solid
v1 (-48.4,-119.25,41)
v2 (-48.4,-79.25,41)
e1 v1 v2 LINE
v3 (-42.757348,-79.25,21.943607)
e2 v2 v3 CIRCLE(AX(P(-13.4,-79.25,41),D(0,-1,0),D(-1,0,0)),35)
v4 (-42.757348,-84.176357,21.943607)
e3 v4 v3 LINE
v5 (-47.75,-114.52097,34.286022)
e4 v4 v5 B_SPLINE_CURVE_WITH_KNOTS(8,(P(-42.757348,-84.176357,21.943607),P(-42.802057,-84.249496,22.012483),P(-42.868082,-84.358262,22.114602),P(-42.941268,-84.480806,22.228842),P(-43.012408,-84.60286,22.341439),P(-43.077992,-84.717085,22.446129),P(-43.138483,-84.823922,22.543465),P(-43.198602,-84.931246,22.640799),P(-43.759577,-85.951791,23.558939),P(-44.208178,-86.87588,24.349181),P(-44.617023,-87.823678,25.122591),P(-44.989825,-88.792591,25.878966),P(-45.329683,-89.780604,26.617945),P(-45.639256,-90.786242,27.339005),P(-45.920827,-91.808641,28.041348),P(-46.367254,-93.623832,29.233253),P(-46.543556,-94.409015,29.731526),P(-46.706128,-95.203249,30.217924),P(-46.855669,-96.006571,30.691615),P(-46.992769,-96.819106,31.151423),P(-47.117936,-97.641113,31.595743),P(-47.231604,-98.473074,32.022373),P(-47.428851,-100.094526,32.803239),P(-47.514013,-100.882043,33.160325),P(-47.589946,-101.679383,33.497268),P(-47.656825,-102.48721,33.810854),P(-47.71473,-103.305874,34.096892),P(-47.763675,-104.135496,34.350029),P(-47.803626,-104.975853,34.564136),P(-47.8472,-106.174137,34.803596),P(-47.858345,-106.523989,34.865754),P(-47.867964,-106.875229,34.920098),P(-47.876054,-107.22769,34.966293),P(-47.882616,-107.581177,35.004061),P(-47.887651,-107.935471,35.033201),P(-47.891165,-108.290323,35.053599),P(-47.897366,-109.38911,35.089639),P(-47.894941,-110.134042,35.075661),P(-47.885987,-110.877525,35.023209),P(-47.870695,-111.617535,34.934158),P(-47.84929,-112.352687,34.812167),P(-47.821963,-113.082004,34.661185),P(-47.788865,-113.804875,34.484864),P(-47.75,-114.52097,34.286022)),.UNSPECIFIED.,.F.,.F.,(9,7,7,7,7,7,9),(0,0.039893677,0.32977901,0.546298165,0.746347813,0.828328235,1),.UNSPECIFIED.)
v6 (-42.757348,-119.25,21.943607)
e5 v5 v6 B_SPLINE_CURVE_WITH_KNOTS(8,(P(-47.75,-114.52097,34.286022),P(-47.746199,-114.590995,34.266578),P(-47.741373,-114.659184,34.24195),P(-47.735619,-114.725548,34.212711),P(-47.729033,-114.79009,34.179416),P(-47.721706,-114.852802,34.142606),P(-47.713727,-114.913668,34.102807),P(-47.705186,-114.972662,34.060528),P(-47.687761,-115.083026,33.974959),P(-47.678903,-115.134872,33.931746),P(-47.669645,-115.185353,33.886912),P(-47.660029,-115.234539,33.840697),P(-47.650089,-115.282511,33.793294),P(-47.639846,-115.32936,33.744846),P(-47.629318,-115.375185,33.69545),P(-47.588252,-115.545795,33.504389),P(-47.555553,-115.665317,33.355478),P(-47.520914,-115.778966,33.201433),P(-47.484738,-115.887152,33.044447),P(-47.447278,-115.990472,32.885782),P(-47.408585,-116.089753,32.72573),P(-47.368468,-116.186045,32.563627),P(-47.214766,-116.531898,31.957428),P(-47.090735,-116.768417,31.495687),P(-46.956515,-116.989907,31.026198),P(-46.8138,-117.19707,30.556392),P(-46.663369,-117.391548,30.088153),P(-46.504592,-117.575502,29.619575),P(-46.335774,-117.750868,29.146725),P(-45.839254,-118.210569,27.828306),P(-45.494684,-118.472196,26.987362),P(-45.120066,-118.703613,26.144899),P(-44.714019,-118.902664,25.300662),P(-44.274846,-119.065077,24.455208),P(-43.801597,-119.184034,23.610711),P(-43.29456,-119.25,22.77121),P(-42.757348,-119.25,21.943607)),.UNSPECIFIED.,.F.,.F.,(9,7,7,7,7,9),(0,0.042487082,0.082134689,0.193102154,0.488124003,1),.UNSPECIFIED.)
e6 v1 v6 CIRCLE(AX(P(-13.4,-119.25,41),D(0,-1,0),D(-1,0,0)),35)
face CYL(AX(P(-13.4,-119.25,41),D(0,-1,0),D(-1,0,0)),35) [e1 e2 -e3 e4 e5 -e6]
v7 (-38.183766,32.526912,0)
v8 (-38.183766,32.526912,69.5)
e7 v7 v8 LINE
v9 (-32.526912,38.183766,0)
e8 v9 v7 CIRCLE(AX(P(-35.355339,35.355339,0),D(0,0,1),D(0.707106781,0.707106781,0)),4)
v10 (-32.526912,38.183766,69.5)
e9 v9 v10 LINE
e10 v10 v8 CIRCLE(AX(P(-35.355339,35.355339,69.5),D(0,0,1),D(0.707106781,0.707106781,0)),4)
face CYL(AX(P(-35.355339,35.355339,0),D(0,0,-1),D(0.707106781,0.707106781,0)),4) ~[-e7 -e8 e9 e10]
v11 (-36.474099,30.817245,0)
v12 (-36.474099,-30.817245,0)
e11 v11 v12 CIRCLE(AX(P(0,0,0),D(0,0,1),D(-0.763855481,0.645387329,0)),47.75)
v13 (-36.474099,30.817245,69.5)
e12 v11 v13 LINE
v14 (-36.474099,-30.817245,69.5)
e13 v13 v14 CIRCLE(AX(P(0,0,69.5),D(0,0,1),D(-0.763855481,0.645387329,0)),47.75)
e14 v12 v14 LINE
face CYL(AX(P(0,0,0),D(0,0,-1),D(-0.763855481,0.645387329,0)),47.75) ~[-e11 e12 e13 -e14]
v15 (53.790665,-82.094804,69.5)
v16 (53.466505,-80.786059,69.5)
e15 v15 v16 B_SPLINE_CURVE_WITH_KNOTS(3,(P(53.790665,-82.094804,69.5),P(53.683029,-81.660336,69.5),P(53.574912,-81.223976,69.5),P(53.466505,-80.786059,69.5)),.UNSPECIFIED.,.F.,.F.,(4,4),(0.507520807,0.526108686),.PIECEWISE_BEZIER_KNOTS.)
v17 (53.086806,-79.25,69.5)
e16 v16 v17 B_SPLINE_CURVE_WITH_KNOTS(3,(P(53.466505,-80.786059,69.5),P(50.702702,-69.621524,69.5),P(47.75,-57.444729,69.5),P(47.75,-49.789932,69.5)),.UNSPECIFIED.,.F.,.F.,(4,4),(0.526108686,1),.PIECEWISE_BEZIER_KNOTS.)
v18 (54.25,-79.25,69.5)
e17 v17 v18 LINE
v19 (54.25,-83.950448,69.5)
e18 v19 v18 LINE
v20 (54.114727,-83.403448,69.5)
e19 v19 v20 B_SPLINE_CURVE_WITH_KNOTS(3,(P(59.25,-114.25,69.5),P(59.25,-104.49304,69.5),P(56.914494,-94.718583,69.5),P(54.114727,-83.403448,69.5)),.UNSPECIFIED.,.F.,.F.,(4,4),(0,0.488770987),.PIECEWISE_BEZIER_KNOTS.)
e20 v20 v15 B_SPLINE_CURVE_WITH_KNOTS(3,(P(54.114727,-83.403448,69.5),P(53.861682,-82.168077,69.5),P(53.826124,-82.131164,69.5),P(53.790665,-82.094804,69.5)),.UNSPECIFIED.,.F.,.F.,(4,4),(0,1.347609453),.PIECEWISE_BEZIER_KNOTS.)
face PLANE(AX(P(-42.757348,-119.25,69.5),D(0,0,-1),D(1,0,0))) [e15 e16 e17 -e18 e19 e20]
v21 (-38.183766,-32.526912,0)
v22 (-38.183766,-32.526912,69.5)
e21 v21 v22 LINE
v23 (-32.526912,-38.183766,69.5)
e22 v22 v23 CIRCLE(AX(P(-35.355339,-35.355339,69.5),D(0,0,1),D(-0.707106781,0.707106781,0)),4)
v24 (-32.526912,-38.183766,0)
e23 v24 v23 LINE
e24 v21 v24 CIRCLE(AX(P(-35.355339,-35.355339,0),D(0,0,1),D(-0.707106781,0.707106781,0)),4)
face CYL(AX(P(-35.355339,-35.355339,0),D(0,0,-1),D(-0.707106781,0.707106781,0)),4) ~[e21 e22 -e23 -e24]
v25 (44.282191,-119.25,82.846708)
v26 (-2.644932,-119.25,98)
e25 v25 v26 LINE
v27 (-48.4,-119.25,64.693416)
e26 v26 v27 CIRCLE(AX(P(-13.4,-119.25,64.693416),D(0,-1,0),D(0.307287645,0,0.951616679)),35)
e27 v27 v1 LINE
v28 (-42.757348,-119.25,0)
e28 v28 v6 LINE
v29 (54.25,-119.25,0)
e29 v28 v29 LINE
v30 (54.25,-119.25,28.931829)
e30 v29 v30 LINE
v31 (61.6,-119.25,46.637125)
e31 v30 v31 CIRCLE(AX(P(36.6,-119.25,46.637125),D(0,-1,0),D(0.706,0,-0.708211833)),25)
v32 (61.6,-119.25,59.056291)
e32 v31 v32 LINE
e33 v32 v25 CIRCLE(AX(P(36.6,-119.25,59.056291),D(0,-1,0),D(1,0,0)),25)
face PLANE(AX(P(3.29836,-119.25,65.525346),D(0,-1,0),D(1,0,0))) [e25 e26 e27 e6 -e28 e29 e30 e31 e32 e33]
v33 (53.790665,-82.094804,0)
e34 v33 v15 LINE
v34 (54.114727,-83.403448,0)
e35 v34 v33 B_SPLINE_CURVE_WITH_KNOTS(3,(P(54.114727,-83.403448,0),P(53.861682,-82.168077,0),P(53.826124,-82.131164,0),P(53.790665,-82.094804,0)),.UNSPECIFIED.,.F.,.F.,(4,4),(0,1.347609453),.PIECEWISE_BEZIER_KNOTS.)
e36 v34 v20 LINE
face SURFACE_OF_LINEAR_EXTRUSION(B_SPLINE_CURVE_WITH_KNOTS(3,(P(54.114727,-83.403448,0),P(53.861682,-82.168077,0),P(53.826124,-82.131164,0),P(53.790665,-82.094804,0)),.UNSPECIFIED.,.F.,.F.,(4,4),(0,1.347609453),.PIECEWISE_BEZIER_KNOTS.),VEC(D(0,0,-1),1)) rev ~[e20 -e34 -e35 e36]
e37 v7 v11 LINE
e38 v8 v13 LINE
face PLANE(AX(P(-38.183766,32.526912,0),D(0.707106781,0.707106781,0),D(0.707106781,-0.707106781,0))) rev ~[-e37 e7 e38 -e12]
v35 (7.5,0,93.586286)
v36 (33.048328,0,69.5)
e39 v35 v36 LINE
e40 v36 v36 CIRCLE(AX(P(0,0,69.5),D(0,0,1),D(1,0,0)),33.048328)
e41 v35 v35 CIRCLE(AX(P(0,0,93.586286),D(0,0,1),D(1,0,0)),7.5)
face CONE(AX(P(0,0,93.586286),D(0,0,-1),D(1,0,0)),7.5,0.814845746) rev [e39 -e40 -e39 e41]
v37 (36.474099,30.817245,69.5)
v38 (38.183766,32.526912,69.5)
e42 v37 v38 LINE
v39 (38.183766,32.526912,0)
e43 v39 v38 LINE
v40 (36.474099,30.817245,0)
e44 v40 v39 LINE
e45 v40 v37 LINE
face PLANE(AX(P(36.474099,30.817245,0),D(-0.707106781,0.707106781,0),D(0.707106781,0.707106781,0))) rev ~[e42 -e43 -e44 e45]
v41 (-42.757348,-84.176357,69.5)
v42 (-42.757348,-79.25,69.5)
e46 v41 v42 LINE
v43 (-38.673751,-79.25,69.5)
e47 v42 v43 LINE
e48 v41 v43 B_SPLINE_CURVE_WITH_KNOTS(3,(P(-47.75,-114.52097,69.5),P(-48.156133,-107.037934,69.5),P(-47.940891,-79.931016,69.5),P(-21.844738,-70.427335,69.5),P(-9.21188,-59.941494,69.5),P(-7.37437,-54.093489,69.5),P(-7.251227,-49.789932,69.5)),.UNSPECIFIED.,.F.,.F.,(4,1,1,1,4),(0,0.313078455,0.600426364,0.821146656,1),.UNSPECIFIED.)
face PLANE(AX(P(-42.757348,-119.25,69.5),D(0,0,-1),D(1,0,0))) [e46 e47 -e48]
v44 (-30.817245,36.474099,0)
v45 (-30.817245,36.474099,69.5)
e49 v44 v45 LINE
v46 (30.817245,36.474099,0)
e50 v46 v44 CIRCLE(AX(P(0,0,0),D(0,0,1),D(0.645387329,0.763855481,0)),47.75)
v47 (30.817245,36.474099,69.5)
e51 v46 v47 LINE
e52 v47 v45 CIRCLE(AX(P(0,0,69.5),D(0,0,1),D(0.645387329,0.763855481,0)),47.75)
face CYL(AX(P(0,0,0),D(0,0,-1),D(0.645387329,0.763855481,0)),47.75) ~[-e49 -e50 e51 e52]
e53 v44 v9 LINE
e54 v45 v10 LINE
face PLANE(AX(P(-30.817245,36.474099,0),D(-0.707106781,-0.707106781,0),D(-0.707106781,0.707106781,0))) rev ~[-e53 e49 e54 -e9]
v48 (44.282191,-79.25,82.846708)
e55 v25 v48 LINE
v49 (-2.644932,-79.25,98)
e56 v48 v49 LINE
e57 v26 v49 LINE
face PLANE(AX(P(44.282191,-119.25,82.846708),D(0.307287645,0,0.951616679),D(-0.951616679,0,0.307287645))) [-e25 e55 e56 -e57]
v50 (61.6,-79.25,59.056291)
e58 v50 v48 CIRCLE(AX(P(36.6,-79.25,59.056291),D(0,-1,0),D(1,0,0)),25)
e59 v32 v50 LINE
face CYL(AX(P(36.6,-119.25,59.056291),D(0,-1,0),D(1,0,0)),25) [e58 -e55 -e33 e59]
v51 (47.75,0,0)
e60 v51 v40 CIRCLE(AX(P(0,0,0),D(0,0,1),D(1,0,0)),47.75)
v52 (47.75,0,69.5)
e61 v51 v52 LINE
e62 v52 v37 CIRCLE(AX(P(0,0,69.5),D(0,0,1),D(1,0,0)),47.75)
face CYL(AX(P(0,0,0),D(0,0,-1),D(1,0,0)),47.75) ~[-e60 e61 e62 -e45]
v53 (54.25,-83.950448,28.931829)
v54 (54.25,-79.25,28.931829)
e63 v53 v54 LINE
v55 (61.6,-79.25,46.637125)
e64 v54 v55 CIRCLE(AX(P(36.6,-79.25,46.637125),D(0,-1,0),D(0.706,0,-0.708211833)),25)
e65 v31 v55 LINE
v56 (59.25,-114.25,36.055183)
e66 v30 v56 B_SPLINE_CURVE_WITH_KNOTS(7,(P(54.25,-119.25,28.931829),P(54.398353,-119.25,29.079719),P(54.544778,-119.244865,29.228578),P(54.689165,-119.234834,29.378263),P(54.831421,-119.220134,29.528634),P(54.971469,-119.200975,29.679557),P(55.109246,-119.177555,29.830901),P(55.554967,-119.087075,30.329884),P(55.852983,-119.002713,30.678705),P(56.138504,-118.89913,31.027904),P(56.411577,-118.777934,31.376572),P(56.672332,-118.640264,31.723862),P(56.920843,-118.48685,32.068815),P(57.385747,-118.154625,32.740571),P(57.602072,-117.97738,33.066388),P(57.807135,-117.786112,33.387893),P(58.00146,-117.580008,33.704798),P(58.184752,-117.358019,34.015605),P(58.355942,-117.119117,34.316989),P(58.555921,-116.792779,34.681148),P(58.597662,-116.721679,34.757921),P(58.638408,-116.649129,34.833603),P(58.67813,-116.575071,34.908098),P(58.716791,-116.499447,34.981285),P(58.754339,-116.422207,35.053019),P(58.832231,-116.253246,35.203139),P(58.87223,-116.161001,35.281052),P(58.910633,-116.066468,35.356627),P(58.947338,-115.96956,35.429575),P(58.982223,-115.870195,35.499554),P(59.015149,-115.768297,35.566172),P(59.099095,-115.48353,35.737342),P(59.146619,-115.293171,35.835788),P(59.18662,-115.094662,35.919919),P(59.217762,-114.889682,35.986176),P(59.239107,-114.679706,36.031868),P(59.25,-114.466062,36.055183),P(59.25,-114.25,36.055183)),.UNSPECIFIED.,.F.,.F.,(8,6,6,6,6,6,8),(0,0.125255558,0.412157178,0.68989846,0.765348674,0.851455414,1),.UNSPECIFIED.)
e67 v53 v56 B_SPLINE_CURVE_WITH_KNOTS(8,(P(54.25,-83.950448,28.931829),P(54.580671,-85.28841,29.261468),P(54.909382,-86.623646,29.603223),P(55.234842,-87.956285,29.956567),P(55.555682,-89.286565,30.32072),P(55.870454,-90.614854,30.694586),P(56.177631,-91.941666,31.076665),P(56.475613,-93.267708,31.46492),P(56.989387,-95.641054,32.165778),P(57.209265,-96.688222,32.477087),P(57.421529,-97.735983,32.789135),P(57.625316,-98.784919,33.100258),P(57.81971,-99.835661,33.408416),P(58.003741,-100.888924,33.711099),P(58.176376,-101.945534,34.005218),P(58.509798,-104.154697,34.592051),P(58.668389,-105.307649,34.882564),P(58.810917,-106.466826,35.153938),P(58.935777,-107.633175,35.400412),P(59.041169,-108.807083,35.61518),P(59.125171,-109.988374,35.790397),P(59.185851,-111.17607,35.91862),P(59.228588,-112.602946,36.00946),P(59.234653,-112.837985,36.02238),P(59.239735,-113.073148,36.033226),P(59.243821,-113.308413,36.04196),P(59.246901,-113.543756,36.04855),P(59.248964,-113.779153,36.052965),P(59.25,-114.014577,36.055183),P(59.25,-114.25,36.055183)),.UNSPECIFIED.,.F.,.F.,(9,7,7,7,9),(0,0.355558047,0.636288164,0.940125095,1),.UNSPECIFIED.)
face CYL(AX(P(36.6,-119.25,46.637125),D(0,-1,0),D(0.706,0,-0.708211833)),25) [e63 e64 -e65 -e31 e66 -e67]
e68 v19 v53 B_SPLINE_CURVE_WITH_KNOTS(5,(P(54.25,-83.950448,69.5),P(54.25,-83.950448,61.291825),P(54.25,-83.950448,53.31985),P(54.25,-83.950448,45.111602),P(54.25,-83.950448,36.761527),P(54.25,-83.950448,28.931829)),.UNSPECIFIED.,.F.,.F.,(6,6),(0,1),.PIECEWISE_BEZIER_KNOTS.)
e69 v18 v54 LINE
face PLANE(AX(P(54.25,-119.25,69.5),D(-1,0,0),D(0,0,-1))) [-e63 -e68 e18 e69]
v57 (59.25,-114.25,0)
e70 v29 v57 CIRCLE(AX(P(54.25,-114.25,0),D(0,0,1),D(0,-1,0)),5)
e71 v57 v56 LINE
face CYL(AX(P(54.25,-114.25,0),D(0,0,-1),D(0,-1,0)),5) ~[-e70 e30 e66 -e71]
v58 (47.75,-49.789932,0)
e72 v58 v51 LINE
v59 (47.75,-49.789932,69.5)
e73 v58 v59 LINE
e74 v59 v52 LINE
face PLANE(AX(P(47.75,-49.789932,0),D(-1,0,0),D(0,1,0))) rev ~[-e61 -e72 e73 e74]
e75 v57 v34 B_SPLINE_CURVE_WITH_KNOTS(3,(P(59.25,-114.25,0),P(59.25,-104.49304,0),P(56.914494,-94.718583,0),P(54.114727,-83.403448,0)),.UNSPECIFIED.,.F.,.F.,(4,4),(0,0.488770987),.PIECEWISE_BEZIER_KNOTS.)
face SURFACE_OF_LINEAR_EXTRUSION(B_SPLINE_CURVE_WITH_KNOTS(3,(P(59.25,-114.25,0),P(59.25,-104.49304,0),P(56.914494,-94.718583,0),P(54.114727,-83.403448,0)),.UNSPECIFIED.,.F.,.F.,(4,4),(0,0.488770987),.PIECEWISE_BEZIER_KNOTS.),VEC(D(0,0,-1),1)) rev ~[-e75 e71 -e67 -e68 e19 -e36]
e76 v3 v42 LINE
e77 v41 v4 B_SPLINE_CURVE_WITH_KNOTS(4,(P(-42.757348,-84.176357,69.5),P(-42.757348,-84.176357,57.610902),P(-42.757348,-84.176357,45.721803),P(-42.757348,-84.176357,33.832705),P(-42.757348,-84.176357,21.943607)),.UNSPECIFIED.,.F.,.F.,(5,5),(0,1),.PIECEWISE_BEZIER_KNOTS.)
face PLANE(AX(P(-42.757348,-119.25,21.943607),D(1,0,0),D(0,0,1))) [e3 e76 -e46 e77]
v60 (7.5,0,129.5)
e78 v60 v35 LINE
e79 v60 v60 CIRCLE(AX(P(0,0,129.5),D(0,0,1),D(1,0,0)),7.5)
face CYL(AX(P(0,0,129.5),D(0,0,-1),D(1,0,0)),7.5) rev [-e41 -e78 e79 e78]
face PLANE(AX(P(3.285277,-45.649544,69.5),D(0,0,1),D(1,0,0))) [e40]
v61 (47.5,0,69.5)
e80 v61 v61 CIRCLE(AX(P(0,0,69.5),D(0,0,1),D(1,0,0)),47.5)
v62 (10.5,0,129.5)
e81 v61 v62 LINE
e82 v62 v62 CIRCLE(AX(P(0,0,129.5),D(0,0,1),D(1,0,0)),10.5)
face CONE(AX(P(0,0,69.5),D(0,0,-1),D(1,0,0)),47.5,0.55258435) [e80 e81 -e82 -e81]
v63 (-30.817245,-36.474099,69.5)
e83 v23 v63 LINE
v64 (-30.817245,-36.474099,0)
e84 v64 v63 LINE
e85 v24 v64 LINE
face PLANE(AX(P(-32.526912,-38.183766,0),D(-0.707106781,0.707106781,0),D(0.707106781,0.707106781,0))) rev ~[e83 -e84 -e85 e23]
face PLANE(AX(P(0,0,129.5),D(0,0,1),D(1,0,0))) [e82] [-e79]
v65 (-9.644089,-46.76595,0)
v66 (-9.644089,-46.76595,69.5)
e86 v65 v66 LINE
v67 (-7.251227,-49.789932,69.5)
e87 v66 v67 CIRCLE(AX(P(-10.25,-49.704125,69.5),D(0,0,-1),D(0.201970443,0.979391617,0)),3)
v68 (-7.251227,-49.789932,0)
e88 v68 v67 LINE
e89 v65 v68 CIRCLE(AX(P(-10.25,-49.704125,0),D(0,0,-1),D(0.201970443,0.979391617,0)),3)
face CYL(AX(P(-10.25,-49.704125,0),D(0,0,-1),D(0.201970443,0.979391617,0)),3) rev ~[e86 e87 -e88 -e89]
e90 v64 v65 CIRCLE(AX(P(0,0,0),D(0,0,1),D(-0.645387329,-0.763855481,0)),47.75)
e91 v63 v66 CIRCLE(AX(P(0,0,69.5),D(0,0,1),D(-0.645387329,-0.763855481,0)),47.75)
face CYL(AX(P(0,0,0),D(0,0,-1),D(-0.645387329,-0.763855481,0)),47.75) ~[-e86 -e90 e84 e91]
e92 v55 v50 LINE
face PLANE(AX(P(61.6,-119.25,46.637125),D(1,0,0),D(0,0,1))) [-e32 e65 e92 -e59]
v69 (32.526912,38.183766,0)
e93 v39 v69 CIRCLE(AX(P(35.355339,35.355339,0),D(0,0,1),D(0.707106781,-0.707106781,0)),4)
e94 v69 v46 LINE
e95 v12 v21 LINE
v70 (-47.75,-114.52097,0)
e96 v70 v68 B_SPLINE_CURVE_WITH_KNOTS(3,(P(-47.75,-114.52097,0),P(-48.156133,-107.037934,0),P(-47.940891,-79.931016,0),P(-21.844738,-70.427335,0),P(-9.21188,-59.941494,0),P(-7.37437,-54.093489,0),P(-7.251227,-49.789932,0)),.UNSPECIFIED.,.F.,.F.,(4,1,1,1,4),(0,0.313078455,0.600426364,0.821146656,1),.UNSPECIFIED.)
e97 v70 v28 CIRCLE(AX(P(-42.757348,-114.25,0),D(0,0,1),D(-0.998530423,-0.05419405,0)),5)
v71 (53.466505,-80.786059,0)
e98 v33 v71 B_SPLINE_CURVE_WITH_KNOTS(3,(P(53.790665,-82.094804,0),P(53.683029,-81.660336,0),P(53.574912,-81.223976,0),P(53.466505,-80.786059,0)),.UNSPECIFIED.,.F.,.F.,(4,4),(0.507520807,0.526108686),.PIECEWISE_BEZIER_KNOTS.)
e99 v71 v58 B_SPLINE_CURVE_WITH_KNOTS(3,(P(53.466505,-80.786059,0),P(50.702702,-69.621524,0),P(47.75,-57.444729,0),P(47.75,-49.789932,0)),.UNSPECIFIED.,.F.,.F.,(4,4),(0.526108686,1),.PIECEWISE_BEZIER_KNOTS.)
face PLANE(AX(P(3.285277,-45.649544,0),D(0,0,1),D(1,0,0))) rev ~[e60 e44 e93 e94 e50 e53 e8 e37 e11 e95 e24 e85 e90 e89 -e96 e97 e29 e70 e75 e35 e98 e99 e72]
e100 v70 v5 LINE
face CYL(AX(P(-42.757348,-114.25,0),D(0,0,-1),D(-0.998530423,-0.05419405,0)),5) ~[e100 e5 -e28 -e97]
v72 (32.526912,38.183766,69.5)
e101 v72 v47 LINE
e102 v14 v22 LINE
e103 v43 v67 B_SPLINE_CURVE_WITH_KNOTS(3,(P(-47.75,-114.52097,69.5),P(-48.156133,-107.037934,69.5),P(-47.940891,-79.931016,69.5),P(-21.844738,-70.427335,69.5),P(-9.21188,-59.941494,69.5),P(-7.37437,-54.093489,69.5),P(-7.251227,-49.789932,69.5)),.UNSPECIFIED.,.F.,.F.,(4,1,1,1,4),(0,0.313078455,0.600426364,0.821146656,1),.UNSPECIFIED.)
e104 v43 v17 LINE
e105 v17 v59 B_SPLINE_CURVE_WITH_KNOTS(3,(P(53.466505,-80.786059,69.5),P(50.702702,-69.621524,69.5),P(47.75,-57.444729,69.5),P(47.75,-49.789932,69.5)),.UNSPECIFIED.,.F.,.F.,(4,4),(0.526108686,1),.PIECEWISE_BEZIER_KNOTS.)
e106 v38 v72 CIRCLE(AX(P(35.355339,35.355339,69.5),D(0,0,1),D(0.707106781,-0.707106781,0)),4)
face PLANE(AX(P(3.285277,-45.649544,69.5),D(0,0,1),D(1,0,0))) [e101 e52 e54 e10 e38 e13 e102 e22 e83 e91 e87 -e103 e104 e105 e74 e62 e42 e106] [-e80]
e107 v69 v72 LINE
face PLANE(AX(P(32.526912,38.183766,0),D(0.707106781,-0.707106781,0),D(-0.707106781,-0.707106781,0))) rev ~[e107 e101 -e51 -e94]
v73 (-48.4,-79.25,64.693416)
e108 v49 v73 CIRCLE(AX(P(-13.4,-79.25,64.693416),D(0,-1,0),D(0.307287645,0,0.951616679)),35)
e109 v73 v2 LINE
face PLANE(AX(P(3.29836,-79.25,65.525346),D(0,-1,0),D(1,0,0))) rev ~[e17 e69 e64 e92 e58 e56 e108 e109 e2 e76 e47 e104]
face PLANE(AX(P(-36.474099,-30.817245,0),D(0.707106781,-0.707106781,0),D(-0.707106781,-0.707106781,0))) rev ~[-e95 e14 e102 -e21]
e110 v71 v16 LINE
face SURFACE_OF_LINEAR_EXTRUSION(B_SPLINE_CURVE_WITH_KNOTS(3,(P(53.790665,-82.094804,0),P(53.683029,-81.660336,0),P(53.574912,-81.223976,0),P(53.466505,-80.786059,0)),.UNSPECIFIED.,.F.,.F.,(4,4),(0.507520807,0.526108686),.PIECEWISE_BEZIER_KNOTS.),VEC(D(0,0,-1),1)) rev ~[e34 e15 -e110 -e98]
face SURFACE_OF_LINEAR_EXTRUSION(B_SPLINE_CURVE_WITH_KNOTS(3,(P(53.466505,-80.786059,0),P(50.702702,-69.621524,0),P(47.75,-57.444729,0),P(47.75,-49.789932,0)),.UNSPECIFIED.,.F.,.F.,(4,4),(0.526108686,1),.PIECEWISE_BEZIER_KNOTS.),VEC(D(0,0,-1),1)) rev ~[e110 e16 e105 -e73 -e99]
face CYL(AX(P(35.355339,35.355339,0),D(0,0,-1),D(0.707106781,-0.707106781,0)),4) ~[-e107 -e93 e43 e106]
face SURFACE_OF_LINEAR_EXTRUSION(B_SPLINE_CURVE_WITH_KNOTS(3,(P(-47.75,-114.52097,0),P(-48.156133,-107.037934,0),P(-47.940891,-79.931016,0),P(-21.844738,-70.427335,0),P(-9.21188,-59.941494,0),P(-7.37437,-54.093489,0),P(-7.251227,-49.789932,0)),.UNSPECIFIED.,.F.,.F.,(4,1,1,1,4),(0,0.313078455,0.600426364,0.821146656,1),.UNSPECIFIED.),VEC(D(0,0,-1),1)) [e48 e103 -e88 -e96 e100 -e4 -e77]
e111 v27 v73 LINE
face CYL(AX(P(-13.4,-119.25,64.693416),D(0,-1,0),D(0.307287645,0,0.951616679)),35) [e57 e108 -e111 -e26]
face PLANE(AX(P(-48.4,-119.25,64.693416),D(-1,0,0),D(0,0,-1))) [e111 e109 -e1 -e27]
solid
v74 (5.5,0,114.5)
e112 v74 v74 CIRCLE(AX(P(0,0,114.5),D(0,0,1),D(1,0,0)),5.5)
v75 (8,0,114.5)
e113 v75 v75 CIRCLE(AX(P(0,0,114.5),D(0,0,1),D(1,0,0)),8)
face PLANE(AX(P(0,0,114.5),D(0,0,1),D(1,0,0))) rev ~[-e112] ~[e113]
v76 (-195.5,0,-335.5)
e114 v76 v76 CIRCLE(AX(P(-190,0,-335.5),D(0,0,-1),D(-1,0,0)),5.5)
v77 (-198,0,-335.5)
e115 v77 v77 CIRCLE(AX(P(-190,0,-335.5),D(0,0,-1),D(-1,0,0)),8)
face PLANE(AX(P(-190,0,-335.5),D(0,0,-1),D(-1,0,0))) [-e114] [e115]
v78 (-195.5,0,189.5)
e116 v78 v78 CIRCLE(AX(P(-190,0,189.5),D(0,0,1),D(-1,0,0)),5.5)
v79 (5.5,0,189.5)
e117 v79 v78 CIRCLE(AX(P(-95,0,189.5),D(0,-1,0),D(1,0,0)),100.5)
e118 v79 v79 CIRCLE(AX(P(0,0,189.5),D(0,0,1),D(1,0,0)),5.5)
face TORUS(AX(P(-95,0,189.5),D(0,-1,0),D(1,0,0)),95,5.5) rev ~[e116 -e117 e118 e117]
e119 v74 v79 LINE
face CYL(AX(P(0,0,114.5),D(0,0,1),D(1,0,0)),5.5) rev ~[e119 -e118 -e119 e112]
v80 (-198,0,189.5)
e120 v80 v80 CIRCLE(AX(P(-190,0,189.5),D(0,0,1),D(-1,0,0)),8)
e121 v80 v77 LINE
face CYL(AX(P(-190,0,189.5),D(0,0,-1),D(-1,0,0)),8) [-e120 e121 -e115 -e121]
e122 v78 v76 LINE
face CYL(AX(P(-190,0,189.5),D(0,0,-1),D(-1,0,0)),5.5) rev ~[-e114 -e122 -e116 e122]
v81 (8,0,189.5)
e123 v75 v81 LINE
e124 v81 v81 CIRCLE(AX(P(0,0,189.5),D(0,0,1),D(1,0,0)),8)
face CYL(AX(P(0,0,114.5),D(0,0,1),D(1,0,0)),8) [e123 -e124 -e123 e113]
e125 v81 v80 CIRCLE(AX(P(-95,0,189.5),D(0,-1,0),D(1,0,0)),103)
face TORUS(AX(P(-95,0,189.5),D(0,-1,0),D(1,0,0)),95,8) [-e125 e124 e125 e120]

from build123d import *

# Parameters (mm, degrees)
F1_DEPTH = 69.5
F3_DEPTH = 40
F8_R     = 8
F8_R_2   = 5.5


with BuildPart() as f1:
    # F0 (on Top) → F1 (new body)
    with BuildSketch(Plane.XY):
        with BuildLine():
            ThreePointArc((-30.8172449595, -36.474099209), (-20.8748754854, -42.9453382041), (-9.64408867, -46.7659497255))
            ThreePointArc((-9.64408867, -46.7659497255), (-7.8974367264, -47.8425537235), (-7.2512274074, -49.7899321398))
            add(Edge.make_bspline(
                [(-47.75, -114.5209702496), (-48.1561329049, -107.0379336107), (-47.9408912939, -79.9310156181), (-21.8447380657, -70.4273345655), (-9.2118798368, -59.9414939445), (-7.3743703673, -54.093489107), (-7.2512274074, -49.7899321398)],
                knots=[0, 0, 0, 0, 0.3130784549, 0.6004263641, 0.8211466556, 1, 1, 1, 1], degree=3))
            ThreePointArc((-47.75, -114.5209702496), (-46.1957449517, -117.8800723993), (-42.7573478868, -119.25))
            Line((-42.7573478868, -119.25), (54.25, -119.25))
            ThreePointArc((54.25, -119.25), (57.7855339059, -117.7855339059), (59.25, -114.25))
            add(Edge.make_bspline(
                [(59.25, -114.25), (59.25, -104.4930401313), (56.9144944398, -94.7185834995), (54.1147271984, -83.4034477474)],
                knots=[0, 0, 0, 0, 0.4887709874, 0.4887709874, 0.4887709874, 0.4887709874], degree=3))
            add(Edge.make_bspline(
                [(54.1147271984, -83.4034477474), (54.0073248946, -82.9693860761), (53.8992393934, -82.5330571752), (53.7906652784, -82.0948038235)],
                knots=[0.4887709874, 0.4887709874, 0.4887709874, 0.4887709874, 0.5075208068, 0.5075208068, 0.5075208068, 0.5075208068], degree=3))
            add(Edge.make_bspline(
                [(53.7906652799, -82.0948038223), (53.755174216, -82.0584101523), (53.7197837133, -82.0225706248), (53.4665051263, -80.7860591642)],
                knots=[1.3476094532, 1.3476094532, 1.3476094532, 1.3476094532, 2.6964633967, 2.6964633967, 2.6964633967, 2.6964633967], degree=3))
            add(Edge.make_bspline(
                [(53.4665051263, -80.7860591642), (50.7027022631, -69.6215239771), (47.75, -57.4447294561), (47.75, -49.7899321398)],
                knots=[0.5261086855, 0.5261086855, 0.5261086855, 0.5261086855, 1, 1, 1, 1], degree=3))
            Line((47.75, -49.7899321398), (47.75, 0))
            ThreePointArc((47.75, 0), (44.8425062704, 16.4076851318), (36.474099209, 30.8172449595))
            ThreePointArc((36.474099209, 30.8172449595), (33.7643488017, 33.7643488017), (30.8172449595, 36.474099209))
            ThreePointArc((30.8172449595, 36.474099209), (0, 47.75), (-30.8172449595, 36.474099209))
            ThreePointArc((-30.8172449595, 36.474099209), (-33.7643488017, 33.7643488017), (-36.474099209, 30.8172449595))
            ThreePointArc((-36.474099209, 30.8172449595), (-47.75, 0), (-36.474099209, -30.8172449595))
            ThreePointArc((-36.474099209, -30.8172449595), (-33.7643488017, -33.7643488017), (-30.8172449595, -36.474099209))
        make_face()
        with BuildLine():
            Line((-32.5269119346, -38.1837661841), (-30.8172449595, -36.474099209))
            ThreePointArc((-30.8172449595, -36.474099209), (-33.7643488017, -33.7643488017), (-36.474099209, -30.8172449595))
            Line((-36.474099209, -30.8172449595), (-38.1837661841, -32.5269119346))
            ThreePointArc((-38.1837661841, -32.5269119346), (-38.1837661841, -38.1837661841), (-32.5269119346, -38.1837661841))
        make_face()
        with BuildLine():
            Line((-38.1837661841, 32.5269119346), (-36.474099209, 30.8172449595))
            ThreePointArc((-36.474099209, 30.8172449595), (-33.7643488017, 33.7643488017), (-30.8172449595, 36.474099209))
            Line((-30.8172449595, 36.474099209), (-32.5269119346, 38.1837661841))
            ThreePointArc((-32.5269119346, 38.1837661841), (-38.1837661841, 38.1837661841), (-38.1837661841, 32.5269119346))
        make_face()
        with BuildLine():
            Line((32.5269119346, 38.1837661841), (30.8172449595, 36.474099209))
            ThreePointArc((30.8172449595, 36.474099209), (33.7643488017, 33.7643488017), (36.474099209, 30.8172449595))
            Line((36.474099209, 30.8172449595), (38.1837661841, 32.5269119346))
            ThreePointArc((38.1837661841, 32.5269119346), (38.1837661841, 38.1837661841), (32.5269119346, 38.1837661841))
        make_face()
        with BuildLine():
            add(Edge.make_bspline(
                [(54.1147271984, -83.4034477474), (54.0073248946, -82.9693860761), (53.8992393934, -82.5330571752), (53.7906652784, -82.0948038235)],
                knots=[0.4887709874, 0.4887709874, 0.4887709874, 0.4887709874, 0.5075208068, 0.5075208068, 0.5075208068, 0.5075208068], degree=3))
            add(Edge.make_bspline(
                [(54.1147271984, -83.4034477474), (53.8616822932, -82.1680771268), (53.8261235987, -82.1311639144), (53.7906652799, -82.0948038223)],
                knots=[0, 0, 0, 0, 1.3476094532, 1.3476094532, 1.3476094532, 1.3476094532], degree=3))
        make_face()
        with BuildLine():
            add(Edge.make_bspline(
                [(53.7906652799, -82.0948038223), (53.755174216, -82.0584101523), (53.7197837133, -82.0225706248), (53.4665051263, -80.7860591642)],
                knots=[1.3476094532, 1.3476094532, 1.3476094532, 1.3476094532, 2.6964633967, 2.6964633967, 2.6964633967, 2.6964633967], degree=3))
            add(Edge.make_bspline(
                [(53.7906652784, -82.0948038235), (53.6830289093, -81.6603356307), (53.5749123302, -81.2239760863), (53.4665051263, -80.7860591642)],
                knots=[0.5075208068, 0.5075208068, 0.5075208068, 0.5075208068, 0.5261086855, 0.5261086855, 0.5261086855, 0.5261086855], degree=3))
        make_face()
    extrude(amount=F1_DEPTH)

    # F2 (on face) → F3 (join)
    with BuildSketch(Plane.XZ.offset(119.25)):
        with BuildLine():
            ThreePointArc((-2.644932421, 98), (-33.998211509, 92.9903009265), (-48.4, 64.6934162459))
            Line((-48.4, 64.6934162459), (-48.4, 41))
            ThreePointArc((-48.4, 41), (-46.9597018464, 31.0628770773), (-42.7573478868, 21.9436067144))
            Line((-42.7573478868, 21.9436067144), (-42.7573478868, 69.5))
            Line((-42.7573478868, 69.5), (54.25, 69.5))
            Line((54.25, 69.5), (54.25, 28.9318292723))
            ThreePointArc((54.25, 28.9318292723), (59.689499778, 37.0519803338), (61.6, 46.6371250902))
            Line((61.6, 46.6371250902), (61.6, 59.0562911557))
            ThreePointArc((61.6, 59.0562911557), (56.8120604862, 73.7692993764), (44.2821911278, 82.8467081229))
            Line((44.2821911278, 82.8467081229), (-2.644932421, 98))
        make_face()
    extrude(amount=-F3_DEPTH)

    # F4 (on Front) → F5 (revolve)
    with BuildSketch(Plane.XZ):
        Polygon((10.5, 129.5), (7.5, 129.5), (7.5, 93.5862857103), (33.0483277142, 69.5), (47.5, 69.5), align=None)
    revolve(axis=Axis((0, 0, 99.5), (0, 0, 1)))


with BuildPart() as f9:
    # F9: sweep along a path in F6
    with BuildLine(Plane.XZ) as f9_path:
        Line((0, 114.5), (0, 189.5))
        ThreePointArc((0, 189.5), (-95, 284.5), (-190, 189.5))
        Line((-190, 189.5), (-190, -335.5))
    # F8 (on plane+point) → F9 (sweep)
    with BuildSketch(Plane.XY.offset(114.5)):
        Circle(F8_R)
        Circle(F8_R_2, mode=Mode.SUBTRACT)
    sweep(path=f9_path.line)


solid = Compound([f1.part, f9.part])
